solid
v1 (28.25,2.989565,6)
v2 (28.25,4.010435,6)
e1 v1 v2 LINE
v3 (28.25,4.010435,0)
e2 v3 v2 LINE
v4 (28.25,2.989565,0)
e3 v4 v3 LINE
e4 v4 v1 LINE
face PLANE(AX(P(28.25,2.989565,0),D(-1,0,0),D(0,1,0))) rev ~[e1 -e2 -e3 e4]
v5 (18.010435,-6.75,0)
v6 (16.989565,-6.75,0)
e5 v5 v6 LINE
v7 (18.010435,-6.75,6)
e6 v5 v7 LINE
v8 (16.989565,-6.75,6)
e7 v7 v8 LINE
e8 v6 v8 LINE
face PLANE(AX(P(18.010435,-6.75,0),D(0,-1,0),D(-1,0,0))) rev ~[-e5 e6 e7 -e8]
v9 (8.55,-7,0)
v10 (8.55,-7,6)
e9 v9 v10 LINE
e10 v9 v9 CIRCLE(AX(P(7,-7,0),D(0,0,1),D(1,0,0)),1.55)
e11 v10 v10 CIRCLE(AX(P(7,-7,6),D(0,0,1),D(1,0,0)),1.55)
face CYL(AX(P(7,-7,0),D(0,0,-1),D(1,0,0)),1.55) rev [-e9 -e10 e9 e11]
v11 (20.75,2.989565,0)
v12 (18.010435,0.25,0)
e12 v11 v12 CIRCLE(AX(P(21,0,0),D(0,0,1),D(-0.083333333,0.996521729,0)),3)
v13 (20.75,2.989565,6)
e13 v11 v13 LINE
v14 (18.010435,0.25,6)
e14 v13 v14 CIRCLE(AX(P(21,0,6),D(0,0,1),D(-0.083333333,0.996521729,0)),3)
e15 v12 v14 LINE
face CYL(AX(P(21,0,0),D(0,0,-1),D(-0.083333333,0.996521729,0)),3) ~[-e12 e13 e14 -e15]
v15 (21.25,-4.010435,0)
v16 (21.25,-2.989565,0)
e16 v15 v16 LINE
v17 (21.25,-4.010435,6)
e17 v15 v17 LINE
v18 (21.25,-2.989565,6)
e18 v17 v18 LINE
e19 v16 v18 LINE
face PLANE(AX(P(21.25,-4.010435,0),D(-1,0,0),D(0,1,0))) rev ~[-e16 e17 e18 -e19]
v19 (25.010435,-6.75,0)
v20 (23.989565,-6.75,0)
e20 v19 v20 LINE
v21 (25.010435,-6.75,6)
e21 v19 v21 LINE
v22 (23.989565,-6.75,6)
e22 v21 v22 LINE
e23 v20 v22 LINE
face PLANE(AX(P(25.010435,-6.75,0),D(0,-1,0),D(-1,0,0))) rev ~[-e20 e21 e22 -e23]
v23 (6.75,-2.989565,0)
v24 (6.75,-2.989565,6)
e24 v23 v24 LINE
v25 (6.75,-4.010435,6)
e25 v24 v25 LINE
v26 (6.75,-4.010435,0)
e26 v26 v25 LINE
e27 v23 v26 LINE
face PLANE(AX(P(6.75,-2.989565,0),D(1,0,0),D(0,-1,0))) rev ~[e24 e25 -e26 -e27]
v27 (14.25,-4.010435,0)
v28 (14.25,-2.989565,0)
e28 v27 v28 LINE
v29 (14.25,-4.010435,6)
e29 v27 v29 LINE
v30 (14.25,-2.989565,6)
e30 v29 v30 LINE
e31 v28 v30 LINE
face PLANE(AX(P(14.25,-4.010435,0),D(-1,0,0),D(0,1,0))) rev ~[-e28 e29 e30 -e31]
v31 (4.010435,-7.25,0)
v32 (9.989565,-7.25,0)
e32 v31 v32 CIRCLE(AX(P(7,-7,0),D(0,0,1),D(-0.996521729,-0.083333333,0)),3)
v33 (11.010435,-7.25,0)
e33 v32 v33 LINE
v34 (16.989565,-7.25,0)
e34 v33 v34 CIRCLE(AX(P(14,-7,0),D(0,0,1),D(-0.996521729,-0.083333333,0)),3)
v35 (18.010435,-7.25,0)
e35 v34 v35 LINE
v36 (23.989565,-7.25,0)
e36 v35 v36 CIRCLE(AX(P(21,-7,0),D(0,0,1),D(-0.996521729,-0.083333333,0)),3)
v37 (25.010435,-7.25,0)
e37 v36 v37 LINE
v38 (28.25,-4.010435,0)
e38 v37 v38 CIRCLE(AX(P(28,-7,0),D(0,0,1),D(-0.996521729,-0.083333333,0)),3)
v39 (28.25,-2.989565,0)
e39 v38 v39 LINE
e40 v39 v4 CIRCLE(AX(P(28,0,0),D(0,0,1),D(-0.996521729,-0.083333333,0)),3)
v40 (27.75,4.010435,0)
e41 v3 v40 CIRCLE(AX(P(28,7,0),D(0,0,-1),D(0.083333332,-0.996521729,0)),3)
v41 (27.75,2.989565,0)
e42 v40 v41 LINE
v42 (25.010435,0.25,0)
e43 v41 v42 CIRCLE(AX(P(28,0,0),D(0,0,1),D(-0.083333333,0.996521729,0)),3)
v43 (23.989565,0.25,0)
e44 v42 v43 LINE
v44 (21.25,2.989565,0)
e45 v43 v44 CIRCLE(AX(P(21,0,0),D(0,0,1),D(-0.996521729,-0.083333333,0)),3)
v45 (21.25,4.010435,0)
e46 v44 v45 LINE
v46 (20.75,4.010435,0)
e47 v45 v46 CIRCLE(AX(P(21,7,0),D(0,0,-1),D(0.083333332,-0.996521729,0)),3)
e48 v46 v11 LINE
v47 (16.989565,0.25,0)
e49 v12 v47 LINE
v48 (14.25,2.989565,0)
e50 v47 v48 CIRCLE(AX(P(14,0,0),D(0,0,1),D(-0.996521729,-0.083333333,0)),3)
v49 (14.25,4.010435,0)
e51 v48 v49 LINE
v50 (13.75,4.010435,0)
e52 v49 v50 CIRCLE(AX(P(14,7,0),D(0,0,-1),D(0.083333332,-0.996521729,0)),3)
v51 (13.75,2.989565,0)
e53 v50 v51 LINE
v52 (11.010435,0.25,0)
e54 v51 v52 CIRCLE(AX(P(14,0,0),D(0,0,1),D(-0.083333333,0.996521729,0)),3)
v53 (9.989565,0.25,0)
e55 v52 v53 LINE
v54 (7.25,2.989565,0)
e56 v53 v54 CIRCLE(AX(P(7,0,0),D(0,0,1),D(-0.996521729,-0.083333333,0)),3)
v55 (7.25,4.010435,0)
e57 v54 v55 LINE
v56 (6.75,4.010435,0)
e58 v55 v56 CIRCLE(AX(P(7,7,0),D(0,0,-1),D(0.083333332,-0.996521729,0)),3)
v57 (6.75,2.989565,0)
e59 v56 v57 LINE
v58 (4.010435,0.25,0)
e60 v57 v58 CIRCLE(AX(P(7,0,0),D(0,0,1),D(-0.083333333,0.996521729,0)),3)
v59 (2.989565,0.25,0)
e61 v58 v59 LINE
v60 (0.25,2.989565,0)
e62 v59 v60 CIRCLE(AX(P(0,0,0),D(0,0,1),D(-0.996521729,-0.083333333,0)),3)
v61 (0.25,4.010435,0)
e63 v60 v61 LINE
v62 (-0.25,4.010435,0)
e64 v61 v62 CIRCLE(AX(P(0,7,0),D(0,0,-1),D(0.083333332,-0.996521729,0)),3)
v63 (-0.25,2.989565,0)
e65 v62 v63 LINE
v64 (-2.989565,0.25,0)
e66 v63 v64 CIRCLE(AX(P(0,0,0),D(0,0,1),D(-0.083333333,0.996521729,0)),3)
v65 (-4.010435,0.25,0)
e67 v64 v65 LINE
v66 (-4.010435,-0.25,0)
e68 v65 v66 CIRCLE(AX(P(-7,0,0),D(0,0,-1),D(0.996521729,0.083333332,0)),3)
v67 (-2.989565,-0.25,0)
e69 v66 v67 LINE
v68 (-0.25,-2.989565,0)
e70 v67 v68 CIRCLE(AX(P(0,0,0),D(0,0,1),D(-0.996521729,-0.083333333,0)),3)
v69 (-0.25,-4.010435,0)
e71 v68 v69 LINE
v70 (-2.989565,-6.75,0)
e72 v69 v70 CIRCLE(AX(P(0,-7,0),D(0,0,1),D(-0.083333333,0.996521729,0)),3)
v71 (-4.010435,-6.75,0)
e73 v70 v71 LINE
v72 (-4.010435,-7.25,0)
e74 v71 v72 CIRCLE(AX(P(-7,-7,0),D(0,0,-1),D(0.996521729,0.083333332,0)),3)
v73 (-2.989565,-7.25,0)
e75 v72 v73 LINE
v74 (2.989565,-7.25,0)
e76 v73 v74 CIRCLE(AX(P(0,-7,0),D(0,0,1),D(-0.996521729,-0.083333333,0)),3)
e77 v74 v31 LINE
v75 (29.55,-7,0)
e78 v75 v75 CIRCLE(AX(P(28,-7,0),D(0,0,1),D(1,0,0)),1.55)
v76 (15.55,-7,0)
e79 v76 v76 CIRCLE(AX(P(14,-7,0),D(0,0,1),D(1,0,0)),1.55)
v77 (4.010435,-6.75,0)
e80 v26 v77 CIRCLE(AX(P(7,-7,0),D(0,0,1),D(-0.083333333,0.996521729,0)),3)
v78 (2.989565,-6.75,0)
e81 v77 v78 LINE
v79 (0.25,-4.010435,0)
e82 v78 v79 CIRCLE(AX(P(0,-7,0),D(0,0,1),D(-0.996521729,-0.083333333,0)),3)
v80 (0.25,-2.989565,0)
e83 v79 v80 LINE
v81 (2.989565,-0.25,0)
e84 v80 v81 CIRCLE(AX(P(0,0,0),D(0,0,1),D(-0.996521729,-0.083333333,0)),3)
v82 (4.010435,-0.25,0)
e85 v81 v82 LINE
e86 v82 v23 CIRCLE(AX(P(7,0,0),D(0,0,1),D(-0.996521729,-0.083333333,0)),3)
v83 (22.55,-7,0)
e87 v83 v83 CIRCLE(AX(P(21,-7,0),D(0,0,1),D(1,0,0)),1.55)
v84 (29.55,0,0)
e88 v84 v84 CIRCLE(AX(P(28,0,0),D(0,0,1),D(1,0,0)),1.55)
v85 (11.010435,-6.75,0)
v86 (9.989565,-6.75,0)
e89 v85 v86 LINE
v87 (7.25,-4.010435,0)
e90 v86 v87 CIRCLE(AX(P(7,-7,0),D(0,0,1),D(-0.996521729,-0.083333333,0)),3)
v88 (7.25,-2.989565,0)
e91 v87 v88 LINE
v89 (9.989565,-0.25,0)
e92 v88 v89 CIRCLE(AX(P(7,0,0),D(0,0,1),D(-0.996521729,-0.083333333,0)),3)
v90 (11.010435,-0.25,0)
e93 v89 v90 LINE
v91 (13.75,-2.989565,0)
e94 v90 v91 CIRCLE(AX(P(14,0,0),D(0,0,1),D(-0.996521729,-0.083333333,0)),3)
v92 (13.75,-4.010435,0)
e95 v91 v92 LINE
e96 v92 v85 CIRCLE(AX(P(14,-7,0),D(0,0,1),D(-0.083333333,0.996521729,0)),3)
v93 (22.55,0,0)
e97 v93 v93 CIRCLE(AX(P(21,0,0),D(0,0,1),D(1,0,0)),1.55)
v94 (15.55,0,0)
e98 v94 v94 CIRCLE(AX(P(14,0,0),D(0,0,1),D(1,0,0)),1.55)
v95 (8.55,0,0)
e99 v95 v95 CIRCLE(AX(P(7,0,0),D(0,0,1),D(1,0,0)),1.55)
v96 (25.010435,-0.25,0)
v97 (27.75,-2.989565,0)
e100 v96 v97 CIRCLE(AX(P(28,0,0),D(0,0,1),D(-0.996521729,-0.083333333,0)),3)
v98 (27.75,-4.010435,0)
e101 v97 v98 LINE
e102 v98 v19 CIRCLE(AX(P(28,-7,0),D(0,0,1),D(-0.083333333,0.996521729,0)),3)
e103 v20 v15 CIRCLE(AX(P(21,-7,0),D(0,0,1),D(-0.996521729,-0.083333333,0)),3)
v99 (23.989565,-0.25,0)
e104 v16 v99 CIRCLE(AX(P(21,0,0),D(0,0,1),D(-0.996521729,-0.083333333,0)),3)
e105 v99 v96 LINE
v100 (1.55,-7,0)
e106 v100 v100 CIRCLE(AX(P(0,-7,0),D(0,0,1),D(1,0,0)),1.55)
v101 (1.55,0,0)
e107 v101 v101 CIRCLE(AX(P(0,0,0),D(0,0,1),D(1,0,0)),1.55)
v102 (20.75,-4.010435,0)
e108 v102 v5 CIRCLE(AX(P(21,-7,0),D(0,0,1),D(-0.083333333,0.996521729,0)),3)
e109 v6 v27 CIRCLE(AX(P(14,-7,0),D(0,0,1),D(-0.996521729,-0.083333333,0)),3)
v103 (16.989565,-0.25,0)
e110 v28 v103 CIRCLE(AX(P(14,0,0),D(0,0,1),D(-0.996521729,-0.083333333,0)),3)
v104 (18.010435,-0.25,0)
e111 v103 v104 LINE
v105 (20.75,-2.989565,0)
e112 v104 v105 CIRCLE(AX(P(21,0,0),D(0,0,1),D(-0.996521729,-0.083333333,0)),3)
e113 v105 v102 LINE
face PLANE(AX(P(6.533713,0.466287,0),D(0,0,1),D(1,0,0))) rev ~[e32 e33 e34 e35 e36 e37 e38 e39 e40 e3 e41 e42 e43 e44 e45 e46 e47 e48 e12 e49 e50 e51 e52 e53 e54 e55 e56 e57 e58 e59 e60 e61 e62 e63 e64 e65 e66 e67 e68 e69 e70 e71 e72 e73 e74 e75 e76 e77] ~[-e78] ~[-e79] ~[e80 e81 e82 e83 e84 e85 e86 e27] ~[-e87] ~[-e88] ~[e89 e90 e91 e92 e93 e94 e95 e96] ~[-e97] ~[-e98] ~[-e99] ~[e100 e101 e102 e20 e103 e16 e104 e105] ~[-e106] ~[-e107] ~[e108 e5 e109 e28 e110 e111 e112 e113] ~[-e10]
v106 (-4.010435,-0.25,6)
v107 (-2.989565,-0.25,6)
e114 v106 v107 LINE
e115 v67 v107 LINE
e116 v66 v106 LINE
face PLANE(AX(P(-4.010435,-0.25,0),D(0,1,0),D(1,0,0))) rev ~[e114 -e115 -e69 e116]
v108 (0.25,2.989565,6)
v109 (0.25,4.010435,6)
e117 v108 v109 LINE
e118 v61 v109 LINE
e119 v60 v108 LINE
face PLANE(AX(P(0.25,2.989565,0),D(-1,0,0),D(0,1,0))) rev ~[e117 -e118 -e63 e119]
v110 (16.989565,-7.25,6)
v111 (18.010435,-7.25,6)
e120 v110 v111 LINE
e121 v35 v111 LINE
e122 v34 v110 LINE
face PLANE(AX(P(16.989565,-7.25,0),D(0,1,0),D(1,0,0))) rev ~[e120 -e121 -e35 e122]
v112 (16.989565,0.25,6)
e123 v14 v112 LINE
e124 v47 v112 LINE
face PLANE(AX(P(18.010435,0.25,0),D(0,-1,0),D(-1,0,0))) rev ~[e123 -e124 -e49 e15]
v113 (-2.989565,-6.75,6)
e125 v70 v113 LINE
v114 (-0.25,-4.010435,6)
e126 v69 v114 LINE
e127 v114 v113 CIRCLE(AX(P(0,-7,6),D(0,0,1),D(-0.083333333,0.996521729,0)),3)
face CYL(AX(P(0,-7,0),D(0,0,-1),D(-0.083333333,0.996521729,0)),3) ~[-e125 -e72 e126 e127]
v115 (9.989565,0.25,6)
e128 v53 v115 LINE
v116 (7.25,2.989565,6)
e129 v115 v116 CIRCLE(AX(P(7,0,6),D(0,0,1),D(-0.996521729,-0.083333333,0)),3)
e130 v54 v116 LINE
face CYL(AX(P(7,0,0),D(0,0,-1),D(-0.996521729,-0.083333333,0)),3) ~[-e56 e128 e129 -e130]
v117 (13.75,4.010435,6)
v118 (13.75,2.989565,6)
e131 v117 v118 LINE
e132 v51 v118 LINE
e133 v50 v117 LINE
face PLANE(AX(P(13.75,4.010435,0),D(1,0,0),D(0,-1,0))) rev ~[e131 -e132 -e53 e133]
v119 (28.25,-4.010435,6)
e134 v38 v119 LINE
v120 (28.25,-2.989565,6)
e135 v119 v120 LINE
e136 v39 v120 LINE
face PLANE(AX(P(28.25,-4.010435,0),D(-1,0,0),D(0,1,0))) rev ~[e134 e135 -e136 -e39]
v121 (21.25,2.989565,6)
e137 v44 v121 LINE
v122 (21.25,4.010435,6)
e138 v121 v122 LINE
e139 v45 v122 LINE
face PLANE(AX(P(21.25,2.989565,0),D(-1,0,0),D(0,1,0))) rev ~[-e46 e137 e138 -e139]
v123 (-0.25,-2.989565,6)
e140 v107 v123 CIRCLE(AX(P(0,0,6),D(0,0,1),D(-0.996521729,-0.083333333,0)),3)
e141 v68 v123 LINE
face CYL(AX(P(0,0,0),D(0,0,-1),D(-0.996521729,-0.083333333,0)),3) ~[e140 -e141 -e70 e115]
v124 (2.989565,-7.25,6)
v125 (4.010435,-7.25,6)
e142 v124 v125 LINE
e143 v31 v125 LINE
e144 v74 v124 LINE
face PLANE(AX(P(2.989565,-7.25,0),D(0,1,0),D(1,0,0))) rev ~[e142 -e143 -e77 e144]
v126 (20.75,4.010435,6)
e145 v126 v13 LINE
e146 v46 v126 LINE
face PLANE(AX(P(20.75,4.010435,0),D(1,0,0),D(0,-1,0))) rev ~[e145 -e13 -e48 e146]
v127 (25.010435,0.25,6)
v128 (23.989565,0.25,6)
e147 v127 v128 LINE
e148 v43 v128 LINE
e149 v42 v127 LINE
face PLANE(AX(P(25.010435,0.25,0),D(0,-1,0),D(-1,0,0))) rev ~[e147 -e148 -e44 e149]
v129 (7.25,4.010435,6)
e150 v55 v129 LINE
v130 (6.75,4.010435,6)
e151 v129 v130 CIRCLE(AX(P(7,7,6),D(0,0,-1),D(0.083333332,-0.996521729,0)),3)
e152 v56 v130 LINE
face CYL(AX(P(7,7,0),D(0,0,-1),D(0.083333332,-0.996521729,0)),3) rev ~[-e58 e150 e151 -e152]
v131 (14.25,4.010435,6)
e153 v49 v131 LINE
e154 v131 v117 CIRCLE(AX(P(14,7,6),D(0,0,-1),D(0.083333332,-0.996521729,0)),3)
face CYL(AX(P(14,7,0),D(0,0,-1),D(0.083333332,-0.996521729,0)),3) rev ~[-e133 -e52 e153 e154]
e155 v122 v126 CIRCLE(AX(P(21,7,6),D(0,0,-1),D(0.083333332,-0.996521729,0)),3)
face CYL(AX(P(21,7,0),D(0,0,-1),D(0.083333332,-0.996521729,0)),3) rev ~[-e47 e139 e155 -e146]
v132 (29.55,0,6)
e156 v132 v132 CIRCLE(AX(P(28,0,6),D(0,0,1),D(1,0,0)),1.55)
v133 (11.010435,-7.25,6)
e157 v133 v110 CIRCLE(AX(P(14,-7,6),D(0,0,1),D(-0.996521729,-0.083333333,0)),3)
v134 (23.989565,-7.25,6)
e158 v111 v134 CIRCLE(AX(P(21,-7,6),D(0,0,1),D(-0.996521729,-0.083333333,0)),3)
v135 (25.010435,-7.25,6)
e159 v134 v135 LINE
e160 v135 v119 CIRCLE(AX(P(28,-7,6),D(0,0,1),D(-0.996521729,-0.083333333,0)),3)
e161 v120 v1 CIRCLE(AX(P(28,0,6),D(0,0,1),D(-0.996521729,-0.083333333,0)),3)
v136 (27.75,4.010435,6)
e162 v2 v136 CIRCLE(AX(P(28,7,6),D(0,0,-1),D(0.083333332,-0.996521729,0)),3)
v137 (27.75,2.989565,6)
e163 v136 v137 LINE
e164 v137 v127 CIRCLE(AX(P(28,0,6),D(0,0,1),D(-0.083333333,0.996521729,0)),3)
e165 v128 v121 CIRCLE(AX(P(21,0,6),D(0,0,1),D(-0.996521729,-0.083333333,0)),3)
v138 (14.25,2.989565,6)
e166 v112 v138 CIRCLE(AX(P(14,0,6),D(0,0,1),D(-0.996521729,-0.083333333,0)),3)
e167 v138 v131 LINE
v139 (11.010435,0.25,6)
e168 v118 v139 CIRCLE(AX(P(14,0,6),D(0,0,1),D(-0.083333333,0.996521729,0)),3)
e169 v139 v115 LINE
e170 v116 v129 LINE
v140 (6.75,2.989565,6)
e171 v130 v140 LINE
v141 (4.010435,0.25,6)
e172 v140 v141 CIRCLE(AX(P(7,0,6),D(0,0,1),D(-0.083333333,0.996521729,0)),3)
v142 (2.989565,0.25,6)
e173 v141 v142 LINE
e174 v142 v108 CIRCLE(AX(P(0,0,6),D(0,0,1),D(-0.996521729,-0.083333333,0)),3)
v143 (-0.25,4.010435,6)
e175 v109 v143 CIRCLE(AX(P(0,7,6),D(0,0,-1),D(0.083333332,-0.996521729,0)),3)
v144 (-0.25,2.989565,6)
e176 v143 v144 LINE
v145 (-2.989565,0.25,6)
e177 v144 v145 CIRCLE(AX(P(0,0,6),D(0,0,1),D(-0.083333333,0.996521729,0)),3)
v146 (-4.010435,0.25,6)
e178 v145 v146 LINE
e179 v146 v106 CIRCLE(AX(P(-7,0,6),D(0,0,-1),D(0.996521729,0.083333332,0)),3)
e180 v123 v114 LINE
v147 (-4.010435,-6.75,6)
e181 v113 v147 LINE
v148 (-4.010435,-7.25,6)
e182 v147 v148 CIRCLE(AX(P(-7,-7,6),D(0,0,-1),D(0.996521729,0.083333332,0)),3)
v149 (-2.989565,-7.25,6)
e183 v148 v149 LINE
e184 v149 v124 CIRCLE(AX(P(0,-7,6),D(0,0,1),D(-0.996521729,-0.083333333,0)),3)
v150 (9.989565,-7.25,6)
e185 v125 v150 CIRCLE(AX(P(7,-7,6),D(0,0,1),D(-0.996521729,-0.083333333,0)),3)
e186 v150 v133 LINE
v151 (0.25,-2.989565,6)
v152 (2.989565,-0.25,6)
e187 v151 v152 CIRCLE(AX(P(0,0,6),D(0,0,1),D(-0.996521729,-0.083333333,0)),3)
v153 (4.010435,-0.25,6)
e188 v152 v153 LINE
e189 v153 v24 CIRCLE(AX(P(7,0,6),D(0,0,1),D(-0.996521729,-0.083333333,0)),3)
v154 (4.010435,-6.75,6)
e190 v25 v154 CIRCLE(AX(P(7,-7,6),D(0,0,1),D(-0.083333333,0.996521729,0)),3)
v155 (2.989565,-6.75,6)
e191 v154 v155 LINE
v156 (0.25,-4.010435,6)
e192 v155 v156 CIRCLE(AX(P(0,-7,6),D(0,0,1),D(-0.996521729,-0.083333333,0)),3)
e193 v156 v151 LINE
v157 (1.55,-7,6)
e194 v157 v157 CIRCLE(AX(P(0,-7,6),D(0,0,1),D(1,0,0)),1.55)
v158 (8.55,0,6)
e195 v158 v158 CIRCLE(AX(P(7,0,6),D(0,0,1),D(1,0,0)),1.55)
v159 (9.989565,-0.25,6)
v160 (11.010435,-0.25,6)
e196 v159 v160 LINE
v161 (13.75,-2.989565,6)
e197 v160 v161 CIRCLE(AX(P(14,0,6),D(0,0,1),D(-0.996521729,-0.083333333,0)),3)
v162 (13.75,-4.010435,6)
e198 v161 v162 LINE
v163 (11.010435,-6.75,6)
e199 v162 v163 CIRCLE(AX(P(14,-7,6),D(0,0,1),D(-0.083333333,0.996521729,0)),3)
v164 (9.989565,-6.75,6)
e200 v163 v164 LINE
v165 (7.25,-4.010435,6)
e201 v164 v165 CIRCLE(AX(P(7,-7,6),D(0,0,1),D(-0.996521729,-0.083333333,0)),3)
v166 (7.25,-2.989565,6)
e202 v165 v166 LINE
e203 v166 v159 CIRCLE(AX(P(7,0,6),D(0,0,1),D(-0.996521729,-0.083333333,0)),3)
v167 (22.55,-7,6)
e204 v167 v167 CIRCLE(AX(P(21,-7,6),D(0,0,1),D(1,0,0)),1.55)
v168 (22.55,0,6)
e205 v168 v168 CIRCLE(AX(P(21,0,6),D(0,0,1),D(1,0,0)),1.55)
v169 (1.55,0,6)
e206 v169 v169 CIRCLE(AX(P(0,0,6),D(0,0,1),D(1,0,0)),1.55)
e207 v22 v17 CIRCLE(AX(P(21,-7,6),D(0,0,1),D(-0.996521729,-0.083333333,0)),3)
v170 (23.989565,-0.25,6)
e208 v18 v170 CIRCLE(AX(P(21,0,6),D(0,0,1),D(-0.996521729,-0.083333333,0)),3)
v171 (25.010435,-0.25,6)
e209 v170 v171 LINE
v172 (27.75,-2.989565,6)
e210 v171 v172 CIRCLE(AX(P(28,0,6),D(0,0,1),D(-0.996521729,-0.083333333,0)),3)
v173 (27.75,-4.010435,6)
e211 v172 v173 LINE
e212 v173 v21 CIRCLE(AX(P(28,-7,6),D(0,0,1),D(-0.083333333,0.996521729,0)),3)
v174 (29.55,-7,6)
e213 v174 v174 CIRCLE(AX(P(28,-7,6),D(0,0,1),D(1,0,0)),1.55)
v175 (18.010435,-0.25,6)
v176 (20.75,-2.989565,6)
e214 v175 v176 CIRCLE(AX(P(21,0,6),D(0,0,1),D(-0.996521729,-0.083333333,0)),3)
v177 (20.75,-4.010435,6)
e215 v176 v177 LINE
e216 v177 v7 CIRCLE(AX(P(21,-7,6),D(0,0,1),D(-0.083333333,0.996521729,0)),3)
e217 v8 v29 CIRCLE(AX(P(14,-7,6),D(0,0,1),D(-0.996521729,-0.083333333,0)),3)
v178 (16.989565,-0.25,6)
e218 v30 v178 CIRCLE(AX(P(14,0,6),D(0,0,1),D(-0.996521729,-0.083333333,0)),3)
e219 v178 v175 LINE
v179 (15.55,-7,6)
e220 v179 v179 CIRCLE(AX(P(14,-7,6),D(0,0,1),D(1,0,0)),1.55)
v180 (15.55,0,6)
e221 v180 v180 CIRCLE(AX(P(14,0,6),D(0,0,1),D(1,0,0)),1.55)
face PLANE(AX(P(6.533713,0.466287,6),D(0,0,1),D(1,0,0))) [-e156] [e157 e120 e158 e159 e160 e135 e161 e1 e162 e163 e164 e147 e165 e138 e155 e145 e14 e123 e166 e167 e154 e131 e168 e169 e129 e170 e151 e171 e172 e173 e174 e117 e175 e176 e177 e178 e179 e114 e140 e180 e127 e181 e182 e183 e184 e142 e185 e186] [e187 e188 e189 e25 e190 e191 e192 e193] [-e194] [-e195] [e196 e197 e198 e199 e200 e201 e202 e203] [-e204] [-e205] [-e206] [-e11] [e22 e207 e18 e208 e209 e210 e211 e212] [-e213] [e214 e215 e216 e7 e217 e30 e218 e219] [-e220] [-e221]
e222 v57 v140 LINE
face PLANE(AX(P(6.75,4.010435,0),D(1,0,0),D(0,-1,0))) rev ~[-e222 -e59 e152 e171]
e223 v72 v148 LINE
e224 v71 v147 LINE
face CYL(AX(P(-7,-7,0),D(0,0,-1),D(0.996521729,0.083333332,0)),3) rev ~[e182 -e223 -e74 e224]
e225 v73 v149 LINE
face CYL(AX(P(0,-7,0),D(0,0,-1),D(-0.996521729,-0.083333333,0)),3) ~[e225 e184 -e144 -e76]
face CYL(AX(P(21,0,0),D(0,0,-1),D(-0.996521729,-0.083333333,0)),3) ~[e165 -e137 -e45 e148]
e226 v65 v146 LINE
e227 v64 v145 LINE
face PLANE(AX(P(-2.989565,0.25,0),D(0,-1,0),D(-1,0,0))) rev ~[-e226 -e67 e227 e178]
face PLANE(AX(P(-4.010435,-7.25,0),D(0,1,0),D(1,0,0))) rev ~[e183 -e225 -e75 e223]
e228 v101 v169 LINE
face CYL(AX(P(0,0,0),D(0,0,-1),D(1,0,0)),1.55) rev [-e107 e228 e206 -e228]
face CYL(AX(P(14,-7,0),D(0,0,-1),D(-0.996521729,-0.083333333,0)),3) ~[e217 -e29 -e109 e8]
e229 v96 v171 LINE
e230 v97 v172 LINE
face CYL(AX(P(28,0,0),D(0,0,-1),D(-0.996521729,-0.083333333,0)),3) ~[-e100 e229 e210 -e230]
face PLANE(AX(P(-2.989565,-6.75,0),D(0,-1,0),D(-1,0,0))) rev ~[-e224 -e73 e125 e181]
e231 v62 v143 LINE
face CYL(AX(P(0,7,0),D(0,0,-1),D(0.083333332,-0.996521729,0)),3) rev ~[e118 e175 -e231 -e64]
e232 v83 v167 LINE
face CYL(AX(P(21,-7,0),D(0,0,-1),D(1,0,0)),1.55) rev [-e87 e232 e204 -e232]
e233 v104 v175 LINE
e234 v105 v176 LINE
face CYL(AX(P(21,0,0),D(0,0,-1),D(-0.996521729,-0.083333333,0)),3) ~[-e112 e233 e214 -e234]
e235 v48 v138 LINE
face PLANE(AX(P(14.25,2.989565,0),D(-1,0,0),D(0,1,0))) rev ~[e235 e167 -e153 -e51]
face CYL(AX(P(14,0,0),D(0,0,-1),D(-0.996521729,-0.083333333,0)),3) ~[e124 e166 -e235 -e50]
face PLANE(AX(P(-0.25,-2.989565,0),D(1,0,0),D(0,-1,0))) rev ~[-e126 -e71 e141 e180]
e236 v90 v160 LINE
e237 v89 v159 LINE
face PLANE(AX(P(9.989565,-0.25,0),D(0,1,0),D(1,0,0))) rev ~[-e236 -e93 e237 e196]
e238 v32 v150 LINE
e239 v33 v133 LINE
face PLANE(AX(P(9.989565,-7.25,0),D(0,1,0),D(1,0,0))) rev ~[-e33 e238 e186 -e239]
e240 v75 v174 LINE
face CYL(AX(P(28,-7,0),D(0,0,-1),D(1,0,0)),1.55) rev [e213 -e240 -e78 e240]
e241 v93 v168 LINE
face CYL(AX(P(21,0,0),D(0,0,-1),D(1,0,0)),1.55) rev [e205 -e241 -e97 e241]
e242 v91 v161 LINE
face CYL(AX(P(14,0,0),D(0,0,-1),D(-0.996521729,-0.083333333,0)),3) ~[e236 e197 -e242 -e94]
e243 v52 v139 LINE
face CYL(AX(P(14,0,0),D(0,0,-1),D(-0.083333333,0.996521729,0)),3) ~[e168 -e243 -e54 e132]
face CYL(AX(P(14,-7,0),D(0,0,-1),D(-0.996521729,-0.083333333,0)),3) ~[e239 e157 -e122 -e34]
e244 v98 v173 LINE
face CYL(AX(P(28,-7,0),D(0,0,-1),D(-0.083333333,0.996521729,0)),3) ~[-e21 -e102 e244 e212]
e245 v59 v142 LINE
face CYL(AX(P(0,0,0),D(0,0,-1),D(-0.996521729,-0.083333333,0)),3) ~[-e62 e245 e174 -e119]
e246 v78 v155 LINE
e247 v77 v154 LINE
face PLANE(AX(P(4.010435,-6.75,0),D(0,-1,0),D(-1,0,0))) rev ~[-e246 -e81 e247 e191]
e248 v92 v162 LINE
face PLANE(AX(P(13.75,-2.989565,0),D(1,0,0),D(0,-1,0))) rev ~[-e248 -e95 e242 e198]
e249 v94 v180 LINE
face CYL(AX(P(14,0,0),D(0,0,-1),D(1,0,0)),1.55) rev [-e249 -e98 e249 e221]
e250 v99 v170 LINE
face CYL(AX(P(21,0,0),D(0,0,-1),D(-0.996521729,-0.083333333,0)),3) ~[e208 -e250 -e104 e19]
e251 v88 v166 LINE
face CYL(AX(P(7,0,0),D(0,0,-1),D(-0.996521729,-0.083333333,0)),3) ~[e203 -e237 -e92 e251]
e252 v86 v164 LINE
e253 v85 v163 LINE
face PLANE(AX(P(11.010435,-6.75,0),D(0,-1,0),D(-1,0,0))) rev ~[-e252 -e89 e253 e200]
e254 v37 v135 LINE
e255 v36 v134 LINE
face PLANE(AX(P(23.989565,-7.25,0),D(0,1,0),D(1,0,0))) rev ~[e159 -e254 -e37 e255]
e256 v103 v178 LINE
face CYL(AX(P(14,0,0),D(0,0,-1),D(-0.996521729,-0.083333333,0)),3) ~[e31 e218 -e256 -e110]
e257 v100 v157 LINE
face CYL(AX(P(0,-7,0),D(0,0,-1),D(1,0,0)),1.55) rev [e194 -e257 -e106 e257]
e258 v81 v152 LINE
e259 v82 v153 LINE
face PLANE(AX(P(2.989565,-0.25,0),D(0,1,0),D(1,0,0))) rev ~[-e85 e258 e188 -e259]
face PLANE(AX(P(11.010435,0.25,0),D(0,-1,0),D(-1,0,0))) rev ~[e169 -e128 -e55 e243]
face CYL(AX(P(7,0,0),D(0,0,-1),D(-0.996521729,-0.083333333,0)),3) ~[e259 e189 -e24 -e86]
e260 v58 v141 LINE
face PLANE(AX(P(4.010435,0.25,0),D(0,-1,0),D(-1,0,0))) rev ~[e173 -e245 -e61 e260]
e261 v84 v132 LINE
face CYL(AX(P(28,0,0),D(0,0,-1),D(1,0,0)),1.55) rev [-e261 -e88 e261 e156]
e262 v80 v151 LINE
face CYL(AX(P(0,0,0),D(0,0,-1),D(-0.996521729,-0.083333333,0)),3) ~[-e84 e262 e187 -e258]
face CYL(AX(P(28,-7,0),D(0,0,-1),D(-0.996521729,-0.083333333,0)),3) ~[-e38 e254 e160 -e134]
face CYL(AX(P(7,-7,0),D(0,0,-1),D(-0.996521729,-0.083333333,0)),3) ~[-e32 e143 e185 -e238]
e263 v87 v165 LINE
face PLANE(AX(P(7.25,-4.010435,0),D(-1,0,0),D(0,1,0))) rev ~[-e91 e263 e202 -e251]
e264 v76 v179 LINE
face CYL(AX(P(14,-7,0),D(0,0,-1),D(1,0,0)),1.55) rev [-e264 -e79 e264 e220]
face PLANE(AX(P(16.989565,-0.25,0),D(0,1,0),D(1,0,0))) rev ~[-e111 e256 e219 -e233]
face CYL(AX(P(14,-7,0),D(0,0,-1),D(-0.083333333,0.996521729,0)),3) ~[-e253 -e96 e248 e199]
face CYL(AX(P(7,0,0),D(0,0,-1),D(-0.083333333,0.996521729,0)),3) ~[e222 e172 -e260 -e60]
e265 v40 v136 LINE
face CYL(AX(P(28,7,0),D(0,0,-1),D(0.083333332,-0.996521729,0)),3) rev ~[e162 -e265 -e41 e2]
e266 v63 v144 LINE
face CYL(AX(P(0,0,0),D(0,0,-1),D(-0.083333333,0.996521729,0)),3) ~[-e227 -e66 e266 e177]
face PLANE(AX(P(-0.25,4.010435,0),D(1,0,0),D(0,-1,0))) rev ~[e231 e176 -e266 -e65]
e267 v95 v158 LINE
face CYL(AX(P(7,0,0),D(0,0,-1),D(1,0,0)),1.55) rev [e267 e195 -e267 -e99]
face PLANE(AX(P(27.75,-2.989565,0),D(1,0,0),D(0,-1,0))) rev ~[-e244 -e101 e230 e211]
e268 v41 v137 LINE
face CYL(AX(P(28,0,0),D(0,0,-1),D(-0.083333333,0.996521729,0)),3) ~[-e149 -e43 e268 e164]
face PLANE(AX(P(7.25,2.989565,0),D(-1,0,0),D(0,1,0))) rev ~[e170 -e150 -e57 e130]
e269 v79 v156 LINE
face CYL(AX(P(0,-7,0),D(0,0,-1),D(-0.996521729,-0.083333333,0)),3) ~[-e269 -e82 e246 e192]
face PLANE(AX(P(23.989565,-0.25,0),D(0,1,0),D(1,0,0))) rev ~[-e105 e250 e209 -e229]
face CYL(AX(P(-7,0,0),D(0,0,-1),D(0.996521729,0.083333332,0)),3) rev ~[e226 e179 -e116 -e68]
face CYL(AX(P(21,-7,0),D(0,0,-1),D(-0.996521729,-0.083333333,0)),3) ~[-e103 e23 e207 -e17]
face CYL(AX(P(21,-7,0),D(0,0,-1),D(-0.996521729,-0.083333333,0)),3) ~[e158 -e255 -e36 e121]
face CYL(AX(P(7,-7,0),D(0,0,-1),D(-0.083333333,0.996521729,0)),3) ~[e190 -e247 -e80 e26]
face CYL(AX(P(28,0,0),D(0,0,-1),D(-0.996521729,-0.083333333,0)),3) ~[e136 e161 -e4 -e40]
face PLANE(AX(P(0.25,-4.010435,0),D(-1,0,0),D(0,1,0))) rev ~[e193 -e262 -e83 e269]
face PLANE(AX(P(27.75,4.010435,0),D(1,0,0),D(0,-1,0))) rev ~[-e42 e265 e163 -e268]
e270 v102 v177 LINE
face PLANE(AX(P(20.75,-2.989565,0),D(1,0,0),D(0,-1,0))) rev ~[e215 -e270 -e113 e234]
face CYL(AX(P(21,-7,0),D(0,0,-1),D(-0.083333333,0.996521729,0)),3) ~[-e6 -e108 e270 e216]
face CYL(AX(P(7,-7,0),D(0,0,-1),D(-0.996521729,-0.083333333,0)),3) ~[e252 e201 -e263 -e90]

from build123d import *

# Parameters (mm, degrees)
ESQUISSE1_R                     = 1.55
BOSS_EXTRU_2_DEPTH              = 6
R_P_TITION_LIN_AIRE1_COUNT      = 2
R_P_TITION_LIN_AIRE1_PITCH      = 7
R_P_TITION_LIN_AIRE1_COUNT_DIR2 = 5
R_P_TITION_LIN_AIRE1_PITCH_DIR2 = 7


with BuildPart() as part:
    # Esquisse1 → Boss.-Extru.2 (new body)
    with BuildSketch(Plane.XY):
        with BuildLine():
            Line((-0.25, 4.010434814), (-0.25, 2.989565186))
            ThreePointArc((-0.25, 2.989565186), (-2.121320344, 2.121320344), (-2.989565186, 0.25))
            Line((-2.989565186, 0.25), (-4.010434814, 0.25))
            ThreePointArc((-4.010434814, 0.25), (-4, 0), (-4.010434814, -0.25))
            Line((-4.010434814, -0.25), (-2.989565186, -0.25))
            ThreePointArc((-2.989565186, -0.25), (2.121320344, -2.121320344), (0.25, 2.989565186))
            Line((0.25, 2.989565186), (0.25, 4.010434814))
            ThreePointArc((0.25, 4.010434814), (0, 4), (-0.25, 4.010434814))
        make_face()
        Circle(ESQUISSE1_R, mode=Mode.SUBTRACT)
    boss_extru_2 = extrude(amount=BOSS_EXTRU_2_DEPTH)

    # Répétition linéaire1: Boss.-Extru.2 2 × 5
    with Locations(*[(j * R_P_TITION_LIN_AIRE1_PITCH_DIR2, -i * R_P_TITION_LIN_AIRE1_PITCH, 0) for i in range(R_P_TITION_LIN_AIRE1_COUNT) for j in range(R_P_TITION_LIN_AIRE1_COUNT_DIR2) if (i, j) != (0, 0)]):
        add(boss_extru_2)


solid = part.part
